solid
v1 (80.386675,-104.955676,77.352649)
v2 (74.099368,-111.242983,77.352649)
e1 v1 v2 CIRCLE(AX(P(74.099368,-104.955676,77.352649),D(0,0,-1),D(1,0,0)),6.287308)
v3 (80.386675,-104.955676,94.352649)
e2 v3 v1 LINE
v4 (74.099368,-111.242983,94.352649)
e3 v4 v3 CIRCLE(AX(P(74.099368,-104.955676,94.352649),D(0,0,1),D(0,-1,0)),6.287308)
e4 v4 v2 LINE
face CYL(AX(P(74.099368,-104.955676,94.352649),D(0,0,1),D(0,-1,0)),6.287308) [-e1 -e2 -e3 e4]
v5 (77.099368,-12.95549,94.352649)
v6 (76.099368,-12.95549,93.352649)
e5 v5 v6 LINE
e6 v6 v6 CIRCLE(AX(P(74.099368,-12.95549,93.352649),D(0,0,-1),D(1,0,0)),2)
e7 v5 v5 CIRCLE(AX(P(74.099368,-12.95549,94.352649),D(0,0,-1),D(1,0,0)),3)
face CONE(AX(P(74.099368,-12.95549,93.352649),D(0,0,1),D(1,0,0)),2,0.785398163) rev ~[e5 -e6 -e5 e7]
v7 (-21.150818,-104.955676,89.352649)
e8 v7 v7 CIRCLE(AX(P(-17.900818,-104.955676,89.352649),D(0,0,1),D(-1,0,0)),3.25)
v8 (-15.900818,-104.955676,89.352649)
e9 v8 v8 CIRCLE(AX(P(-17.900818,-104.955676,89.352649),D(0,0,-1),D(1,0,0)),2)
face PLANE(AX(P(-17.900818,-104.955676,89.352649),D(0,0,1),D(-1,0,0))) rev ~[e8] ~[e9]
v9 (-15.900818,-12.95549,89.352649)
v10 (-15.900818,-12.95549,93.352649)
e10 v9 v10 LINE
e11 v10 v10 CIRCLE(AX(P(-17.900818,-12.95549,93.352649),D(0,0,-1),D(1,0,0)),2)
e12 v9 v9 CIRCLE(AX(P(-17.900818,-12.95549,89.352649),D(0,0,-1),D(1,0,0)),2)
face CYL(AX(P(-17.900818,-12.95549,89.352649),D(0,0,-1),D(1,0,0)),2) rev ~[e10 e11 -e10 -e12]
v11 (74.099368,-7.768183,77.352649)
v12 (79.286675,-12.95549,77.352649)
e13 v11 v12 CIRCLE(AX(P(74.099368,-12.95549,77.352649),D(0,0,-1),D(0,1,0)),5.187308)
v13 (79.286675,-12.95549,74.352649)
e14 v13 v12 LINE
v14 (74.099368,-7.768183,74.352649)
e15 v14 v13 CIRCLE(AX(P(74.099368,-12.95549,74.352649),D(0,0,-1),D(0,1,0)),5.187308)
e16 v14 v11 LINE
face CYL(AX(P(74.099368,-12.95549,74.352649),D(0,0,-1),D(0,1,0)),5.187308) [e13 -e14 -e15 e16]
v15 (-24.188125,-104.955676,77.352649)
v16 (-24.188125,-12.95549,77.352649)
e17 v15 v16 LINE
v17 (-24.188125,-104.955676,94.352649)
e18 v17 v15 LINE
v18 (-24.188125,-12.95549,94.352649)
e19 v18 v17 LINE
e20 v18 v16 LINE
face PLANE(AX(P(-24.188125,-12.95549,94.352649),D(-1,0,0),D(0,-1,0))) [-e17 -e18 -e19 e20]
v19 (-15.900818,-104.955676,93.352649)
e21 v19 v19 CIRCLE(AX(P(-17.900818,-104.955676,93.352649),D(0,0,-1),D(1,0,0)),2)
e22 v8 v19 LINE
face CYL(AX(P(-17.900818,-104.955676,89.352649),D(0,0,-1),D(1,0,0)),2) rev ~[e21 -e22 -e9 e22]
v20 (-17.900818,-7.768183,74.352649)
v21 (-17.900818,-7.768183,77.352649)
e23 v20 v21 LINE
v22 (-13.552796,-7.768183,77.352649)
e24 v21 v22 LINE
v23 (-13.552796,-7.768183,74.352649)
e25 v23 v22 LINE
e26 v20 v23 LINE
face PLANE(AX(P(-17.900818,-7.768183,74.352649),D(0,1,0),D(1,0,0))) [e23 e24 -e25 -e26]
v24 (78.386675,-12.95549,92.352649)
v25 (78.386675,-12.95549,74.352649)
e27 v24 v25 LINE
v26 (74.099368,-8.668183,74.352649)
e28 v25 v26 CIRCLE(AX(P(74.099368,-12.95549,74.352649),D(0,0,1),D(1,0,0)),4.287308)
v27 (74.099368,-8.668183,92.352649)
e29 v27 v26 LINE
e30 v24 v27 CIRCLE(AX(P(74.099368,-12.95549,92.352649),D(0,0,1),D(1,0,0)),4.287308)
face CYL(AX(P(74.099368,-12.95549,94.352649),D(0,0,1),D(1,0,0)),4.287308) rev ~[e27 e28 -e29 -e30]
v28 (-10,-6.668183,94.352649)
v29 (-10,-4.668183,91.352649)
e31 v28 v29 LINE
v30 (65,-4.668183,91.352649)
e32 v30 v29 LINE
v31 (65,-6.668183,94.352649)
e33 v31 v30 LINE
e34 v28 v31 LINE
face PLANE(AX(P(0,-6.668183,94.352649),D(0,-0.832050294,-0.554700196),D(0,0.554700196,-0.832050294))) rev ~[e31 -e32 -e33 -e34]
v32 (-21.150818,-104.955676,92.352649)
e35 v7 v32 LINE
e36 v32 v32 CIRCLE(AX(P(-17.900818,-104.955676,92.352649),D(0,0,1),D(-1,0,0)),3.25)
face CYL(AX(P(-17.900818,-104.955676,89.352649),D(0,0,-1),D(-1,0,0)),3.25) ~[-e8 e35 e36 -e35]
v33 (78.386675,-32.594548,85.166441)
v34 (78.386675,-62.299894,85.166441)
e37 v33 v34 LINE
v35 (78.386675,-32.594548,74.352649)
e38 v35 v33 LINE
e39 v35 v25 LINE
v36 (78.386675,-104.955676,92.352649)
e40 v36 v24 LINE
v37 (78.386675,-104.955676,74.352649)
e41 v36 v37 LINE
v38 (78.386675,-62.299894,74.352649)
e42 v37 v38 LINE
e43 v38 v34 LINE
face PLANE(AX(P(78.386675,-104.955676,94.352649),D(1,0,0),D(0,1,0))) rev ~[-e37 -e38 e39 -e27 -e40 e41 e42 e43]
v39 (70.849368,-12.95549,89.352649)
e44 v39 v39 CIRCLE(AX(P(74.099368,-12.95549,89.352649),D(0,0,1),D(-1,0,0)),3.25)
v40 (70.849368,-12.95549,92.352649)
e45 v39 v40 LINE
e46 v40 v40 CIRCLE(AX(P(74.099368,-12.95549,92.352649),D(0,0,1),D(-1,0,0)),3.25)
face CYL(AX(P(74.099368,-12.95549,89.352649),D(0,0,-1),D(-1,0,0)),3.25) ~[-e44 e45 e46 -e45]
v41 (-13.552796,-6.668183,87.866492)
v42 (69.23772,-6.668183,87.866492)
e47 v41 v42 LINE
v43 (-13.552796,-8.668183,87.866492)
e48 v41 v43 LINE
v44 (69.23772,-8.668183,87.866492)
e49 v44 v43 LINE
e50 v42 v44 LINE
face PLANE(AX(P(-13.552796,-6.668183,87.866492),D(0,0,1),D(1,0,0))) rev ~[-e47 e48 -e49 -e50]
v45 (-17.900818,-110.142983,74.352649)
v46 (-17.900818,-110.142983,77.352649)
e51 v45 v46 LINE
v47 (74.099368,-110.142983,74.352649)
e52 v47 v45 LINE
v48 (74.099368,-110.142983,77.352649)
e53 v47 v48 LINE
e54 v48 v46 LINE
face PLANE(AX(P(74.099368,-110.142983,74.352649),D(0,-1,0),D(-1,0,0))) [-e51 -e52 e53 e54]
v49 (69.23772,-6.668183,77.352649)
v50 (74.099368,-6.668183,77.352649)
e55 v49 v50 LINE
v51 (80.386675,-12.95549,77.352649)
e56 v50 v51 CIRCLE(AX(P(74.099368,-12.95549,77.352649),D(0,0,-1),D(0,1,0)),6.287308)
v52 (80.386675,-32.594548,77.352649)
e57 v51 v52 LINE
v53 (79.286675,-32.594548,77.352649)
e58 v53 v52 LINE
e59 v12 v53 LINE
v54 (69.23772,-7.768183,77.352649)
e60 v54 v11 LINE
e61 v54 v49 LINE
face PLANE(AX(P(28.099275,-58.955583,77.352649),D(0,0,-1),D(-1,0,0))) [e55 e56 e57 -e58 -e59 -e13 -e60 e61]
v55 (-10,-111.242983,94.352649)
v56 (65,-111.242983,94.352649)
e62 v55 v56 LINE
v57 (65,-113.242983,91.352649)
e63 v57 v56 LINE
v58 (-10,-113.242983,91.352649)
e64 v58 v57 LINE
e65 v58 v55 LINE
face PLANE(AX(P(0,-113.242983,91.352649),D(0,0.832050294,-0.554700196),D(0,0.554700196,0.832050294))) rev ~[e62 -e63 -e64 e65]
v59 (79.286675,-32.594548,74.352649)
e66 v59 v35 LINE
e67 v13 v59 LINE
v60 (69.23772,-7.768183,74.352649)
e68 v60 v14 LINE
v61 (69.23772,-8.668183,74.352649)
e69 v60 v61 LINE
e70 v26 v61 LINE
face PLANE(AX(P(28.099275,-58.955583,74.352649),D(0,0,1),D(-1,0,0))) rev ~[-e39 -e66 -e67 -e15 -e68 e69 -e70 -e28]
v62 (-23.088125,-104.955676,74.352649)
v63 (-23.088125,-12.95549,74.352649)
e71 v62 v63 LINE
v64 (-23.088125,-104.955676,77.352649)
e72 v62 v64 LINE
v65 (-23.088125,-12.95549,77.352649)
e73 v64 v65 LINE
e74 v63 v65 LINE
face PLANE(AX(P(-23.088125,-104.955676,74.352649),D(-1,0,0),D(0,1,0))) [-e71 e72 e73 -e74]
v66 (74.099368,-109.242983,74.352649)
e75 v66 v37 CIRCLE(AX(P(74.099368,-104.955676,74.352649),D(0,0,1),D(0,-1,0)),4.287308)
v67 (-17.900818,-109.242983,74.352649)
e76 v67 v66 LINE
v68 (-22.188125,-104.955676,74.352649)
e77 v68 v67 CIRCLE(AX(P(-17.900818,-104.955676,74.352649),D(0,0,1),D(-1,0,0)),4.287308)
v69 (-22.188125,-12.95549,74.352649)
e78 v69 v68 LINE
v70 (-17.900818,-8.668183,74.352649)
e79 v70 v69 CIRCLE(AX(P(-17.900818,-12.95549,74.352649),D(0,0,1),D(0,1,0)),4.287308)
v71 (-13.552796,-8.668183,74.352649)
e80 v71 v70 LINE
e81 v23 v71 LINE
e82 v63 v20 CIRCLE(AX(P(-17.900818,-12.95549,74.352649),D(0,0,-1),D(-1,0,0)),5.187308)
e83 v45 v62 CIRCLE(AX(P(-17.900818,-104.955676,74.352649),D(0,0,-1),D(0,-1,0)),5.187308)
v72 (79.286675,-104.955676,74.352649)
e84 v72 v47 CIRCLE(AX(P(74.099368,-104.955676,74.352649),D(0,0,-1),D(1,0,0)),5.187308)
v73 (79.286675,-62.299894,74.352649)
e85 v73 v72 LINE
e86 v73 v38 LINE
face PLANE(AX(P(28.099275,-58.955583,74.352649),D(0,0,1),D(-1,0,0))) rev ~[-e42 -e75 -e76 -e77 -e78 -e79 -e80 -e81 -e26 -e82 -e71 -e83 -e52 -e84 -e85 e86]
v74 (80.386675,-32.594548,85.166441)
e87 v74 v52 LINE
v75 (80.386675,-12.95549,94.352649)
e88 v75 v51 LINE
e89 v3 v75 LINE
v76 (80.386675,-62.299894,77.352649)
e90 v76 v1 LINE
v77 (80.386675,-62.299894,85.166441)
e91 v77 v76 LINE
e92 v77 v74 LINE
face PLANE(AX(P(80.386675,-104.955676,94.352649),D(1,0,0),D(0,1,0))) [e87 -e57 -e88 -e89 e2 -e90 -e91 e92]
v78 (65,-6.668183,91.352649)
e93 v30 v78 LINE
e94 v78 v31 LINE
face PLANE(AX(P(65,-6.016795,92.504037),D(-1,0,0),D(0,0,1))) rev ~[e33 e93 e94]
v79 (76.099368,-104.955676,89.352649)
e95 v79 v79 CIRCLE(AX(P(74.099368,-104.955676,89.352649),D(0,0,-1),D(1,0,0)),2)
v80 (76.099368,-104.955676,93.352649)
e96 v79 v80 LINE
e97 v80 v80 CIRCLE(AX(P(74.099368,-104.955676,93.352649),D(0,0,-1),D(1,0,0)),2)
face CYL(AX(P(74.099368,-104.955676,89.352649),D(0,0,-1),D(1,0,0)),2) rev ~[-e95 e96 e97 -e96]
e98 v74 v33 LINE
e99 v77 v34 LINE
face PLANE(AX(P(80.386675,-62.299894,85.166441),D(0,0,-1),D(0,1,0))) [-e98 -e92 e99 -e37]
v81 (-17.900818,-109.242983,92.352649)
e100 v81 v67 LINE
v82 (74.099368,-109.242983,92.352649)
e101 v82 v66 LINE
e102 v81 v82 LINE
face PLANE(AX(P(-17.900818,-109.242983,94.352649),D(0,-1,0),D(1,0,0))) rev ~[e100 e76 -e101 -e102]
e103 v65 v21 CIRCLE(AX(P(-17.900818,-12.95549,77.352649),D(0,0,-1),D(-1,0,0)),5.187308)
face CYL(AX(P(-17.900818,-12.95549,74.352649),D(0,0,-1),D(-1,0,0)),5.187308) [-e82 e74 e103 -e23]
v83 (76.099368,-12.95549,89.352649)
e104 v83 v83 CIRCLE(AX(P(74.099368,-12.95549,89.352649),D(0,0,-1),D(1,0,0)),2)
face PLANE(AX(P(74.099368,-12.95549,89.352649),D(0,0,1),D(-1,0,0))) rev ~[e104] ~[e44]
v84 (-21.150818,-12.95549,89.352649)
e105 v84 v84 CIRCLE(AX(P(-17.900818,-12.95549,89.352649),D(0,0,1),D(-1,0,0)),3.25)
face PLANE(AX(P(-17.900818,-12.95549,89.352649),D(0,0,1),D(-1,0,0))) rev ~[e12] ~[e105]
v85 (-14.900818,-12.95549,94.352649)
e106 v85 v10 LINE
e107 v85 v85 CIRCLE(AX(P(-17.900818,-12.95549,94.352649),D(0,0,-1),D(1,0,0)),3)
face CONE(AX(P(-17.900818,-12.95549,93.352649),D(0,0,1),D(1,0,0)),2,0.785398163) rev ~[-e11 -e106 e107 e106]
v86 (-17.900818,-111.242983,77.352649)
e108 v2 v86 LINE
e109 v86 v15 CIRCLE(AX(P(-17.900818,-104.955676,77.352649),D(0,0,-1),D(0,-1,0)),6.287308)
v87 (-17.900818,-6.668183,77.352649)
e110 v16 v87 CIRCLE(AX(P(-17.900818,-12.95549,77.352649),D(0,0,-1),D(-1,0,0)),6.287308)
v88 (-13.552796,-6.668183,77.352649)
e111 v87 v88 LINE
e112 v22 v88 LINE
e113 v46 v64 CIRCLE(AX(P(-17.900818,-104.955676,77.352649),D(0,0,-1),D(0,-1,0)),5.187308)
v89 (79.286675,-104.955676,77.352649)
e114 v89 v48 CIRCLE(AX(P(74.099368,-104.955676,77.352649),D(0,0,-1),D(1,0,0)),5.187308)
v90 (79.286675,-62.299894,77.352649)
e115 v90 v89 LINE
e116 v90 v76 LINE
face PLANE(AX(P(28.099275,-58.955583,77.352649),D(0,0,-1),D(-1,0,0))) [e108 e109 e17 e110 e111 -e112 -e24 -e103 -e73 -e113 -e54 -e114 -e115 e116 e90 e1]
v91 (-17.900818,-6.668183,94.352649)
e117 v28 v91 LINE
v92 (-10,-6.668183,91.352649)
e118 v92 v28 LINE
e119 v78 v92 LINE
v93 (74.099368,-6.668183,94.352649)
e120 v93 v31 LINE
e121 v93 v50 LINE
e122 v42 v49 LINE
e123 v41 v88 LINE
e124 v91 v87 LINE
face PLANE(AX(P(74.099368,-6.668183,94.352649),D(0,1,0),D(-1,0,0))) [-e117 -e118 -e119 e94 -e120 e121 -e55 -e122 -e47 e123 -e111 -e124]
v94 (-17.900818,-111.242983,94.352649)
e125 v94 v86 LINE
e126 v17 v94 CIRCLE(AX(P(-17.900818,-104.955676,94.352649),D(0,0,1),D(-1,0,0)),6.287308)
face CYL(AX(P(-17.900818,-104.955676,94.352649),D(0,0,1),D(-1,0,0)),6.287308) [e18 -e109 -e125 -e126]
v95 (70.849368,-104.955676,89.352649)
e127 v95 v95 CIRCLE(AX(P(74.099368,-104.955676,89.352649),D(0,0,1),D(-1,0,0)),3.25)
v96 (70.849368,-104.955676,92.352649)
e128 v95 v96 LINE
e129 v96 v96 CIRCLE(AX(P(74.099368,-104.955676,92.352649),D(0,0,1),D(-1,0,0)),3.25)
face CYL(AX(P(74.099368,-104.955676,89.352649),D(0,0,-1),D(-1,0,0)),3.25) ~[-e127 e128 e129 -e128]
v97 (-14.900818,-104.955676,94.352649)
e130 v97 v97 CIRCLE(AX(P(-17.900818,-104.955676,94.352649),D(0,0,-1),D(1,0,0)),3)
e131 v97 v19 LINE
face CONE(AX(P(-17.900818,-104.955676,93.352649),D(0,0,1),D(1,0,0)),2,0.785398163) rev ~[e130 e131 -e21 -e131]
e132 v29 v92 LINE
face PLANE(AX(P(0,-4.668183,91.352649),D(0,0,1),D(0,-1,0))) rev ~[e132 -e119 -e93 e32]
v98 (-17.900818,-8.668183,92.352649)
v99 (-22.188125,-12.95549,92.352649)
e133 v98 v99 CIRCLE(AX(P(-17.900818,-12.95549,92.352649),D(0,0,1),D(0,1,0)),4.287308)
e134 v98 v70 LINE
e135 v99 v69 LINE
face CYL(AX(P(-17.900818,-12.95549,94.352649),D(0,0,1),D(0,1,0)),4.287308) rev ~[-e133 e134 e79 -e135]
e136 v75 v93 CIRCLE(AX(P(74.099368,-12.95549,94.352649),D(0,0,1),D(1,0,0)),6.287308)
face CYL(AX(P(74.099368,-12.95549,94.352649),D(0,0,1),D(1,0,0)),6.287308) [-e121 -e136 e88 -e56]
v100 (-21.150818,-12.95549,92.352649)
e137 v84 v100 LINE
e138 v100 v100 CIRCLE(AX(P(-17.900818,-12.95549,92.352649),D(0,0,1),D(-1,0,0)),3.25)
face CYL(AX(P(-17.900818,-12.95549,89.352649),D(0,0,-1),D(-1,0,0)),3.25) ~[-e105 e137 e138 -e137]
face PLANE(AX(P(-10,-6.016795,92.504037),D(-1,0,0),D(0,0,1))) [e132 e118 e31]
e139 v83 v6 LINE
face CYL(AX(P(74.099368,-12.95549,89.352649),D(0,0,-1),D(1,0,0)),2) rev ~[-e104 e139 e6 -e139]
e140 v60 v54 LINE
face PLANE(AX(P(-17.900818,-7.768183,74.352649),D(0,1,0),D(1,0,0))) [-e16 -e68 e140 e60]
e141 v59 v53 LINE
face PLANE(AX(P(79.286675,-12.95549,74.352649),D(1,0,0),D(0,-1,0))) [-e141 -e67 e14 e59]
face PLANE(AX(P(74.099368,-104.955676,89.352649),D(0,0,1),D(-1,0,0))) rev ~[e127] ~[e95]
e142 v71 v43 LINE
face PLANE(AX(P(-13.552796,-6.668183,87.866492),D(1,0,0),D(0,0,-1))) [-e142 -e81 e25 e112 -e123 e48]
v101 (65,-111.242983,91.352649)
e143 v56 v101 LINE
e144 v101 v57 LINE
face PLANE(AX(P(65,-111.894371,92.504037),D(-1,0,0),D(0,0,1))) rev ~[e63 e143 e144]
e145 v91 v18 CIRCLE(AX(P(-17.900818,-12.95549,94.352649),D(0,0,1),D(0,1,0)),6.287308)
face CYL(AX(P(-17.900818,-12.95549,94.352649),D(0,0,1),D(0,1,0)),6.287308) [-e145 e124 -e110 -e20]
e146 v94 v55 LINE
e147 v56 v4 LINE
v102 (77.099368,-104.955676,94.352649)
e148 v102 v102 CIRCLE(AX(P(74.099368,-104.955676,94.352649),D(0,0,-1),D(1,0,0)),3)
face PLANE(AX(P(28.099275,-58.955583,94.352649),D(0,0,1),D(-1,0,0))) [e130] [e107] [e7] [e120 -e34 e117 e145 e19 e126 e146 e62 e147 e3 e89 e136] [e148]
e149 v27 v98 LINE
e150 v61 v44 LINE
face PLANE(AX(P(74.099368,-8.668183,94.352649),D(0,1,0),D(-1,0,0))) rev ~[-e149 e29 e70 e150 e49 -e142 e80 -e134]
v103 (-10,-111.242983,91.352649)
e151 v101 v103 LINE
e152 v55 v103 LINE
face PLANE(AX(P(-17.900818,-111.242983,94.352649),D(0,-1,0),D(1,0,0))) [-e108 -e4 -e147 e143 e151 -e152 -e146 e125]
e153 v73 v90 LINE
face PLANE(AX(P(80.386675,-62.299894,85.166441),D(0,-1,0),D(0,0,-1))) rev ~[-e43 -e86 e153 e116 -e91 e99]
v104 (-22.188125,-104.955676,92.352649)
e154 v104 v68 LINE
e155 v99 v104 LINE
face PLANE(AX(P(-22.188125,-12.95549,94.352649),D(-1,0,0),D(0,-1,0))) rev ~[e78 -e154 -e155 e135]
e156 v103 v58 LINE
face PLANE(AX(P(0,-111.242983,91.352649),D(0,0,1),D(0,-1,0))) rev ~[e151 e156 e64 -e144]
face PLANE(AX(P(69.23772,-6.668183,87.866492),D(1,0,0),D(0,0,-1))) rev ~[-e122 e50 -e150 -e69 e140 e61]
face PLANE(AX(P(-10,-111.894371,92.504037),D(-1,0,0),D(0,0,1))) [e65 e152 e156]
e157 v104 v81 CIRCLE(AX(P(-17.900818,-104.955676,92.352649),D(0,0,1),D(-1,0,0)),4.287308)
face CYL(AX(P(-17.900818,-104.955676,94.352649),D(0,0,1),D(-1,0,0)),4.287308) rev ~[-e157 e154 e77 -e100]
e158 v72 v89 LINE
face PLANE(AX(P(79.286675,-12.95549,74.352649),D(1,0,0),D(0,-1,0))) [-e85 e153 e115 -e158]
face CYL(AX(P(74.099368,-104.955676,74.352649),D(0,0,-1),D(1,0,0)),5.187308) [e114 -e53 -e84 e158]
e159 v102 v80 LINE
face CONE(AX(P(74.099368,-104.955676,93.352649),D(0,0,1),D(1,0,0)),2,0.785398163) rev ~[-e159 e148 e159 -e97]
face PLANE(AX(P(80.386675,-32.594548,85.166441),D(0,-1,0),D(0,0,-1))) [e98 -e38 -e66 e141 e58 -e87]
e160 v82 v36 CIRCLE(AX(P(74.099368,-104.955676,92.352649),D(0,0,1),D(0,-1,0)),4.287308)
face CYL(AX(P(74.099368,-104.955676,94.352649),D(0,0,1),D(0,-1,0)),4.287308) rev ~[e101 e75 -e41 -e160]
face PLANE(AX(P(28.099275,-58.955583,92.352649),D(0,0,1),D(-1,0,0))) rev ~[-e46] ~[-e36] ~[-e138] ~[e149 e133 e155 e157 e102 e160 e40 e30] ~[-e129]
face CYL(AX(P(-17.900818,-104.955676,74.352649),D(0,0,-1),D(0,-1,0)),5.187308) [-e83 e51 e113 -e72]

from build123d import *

# Parameters (mm, degrees)
SKETCH1_R                = 3.25
BOSS_EXTRUDE1_DEPTH      = 3
BOSS_EXTRUDE1_2_DEPTH    = 3
BOSS_EXTRUDE1_3_DEPTH    = 3
BOSS_EXTRUDE1_4_DEPTH    = 3
BOSS_EXTRUDE2_DEPTH      = 2
BOSS_EXTRUDE3_DEPTH      = 20
SKETCH4_R                = 2
CUT_EXTRUDE1_DEPTH       = 5
CUT_EXTRUDE2_REACH       = 106.575
SKETCH6_W                = 82.790515713
SKETCH6_H                = 14.032058418
CUT_EXTRUDE3_REACH       = 106.575
SKETCH7_W                = 17
SKETCH7_H                = 29.705346692
CHAMFER1_SIZE            = 1
CUT_EXTRUDE4_DEPTH       = 3
BOSS_EXTRUDE4_DEPTH      = 65
BOSS_EXTRUDE4_DEPTH_BACK = 10


with BuildPart() as part:
    # Sketch1 → Boss-Extrude1 (new body)
    with BuildSketch(Plane(origin=(0, 0, 89.352648697), x_dir=(-1, 0, 0), z_dir=(0, 0, 1))):
        with Locations((-74.099367844, 104.955675546)):
            Circle(SKETCH1_R)
    extrude(amount=BOSS_EXTRUDE1_DEPTH)



with BuildPart() as body_2:
    # Sketch1 → Boss-Extrude1 2 (new body)
    with BuildSketch(Plane(origin=(0, 0, 89.352648697), x_dir=(-1, 0, 0), z_dir=(0, 0, 1))):
        with Locations((17.900817576, 104.955675546)):
            Circle(SKETCH1_R)
    extrude(amount=BOSS_EXTRUDE1_2_DEPTH)


with BuildPart() as body_3:
    # Sketch1 → Boss-Extrude1 3 (new body)
    with BuildSketch(Plane(origin=(0, 0, 89.352648697), x_dir=(-1, 0, 0), z_dir=(0, 0, 1))):
        with Locations((17.900817576, 12.955490126)):
            Circle(SKETCH1_R)
    extrude(amount=BOSS_EXTRUDE1_3_DEPTH)


with BuildPart() as body_4:
    # Sketch1 → Boss-Extrude1 4 (new body)
    with BuildSketch(Plane(origin=(0, 0, 89.352648697), x_dir=(-1, 0, 0), z_dir=(0, 0, 1))):
        with Locations((-74.099367844, 12.955490126)):
            Circle(SKETCH1_R)
    extrude(amount=BOSS_EXTRUDE1_4_DEPTH)


with BuildPart() as part_1:
    add(part.part)

    add(body_2.part)  # Boss-Extrude2 merges body 2

    add(body_3.part)  # Boss-Extrude2 merges body 3

    add(body_4.part)  # Boss-Extrude2 merges body 4
    # Sketch2 → Boss-Extrude2 (add)
    with BuildSketch(Plane(origin=(0, 0, 92.352648697), x_dir=(-1, 0, 0), z_dir=(0, 0, 1))):
        with BuildLine():
            Line((17.900817576, 109.242983141), (-74.099367844, 109.242983141))
            ThreePointArc((-74.099367844, 109.242983141), (-77.130952117, 107.987259819), (-78.386675439, 104.955675546))
            Line((-78.386675439, 104.955675546), (-78.386675439, 12.955490126))
            ThreePointArc((-78.386675439, 12.955490126), (-77.130952117, 9.923905853), (-74.099367844, 8.668182531))
            Line((-74.099367844, 8.668182531), (17.900817576, 8.668182531))
            ThreePointArc((17.900817576, 8.668182531), (20.93240185, 9.923905853), (22.188125171, 12.955490126))
            Line((22.188125171, 12.955490126), (22.188125171, 104.955675546))
            ThreePointArc((22.188125171, 104.955675546), (20.93240185, 107.987259819), (17.900817576, 109.242983141))
        make_face()
    extrude(amount=BOSS_EXTRUDE2_DEPTH)

    # Sketch3 → Boss-Extrude3 (add)
    with BuildSketch(Plane(origin=(0, 0, 94.352648697), x_dir=(-1, 0, 0), z_dir=(0, 0, 1))):
        with BuildLine():
            Line((17.900817576, 111.242983141), (-74.099367844, 111.242983141))
            ThreePointArc((-74.099367844, 111.242983141), (-78.54516568, 109.401473382), (-80.386675439, 104.955675546))
            Line((-80.386675439, 104.955675546), (-80.386675439, 12.955490126))
            ThreePointArc((-80.386675439, 12.955490126), (-78.54516568, 8.50969229), (-74.099367844, 6.668182531))
            Line((-74.099367844, 6.668182531), (17.900817576, 6.668182531))
            ThreePointArc((17.900817576, 6.668182531), (22.346615412, 8.50969229), (24.188125171, 12.955490126))
            Line((24.188125171, 12.955490126), (24.188125171, 104.955675546))
            ThreePointArc((24.188125171, 104.955675546), (22.346615412, 109.401473382), (17.900817576, 111.242983141))
        make_face()
        with BuildLine():
            Line((17.900817576, 109.242983141), (-74.099367844, 109.242983141))
            ThreePointArc((-74.099367844, 109.242983141), (-77.130952117, 107.987259819), (-78.386675439, 104.955675546))
            Line((-78.386675439, 104.955675546), (-78.386675439, 12.955490126))
            ThreePointArc((-78.386675439, 12.955490126), (-77.130952117, 9.923905853), (-74.099367844, 8.668182531))
            Line((-74.099367844, 8.668182531), (17.900817576, 8.668182531))
            ThreePointArc((17.900817576, 8.668182531), (20.93240185, 9.923905853), (22.188125171, 12.955490126))
            Line((22.188125171, 12.955490126), (22.188125171, 104.955675546))
            ThreePointArc((22.188125171, 104.955675546), (20.93240185, 107.987259819), (17.900817576, 109.242983141))
        make_face(mode=Mode.SUBTRACT)
    extrude(amount=-BOSS_EXTRUDE3_DEPTH)

    # Sketch4 → Cut-Extrude1 (cut)
    with BuildSketch(Plane(origin=(0, 0, 89.352648697), x_dir=(1, 0, 0), z_dir=(0, 0, -1))):
        with Locations((-17.900817576, 104.955675546)):
            Circle(SKETCH4_R)
        with Locations((74.099367844, 104.955675546)):
            Circle(SKETCH4_R)
        with Locations((74.099367844, 12.955490126)):
            Circle(SKETCH4_R)
        with Locations((-17.900817576, 12.955490126)):
            Circle(SKETCH4_R)
    extrude(amount=-CUT_EXTRUDE1_DEPTH, mode=Mode.SUBTRACT)

    # Sketch6 → Cut-Extrude2 (cut, up to next)
    with BuildSketch(Plane(origin=(0, -6.668182531, 0), x_dir=(1, 0, 0), z_dir=(0, 1, 0)), mode=Mode.PRIVATE) as cut_extrude2_sk1:
        with Locations((27.842461798, -80.850462516)):
            Rectangle(SKETCH6_W, SKETCH6_H)
    cut_extrude2_tool1 = extrude(cut_extrude2_sk1.sketch, amount=-CUT_EXTRUDE2_REACH, mode=Mode.PRIVATE) & part_1.part
    add(cut_extrude2_tool1.solids().sort_by_distance((27.842462, -6.668183, 80.850463))[0], mode=Mode.SUBTRACT)

    # Sketch7 → Cut-Extrude3 (cut, up to next)
    with BuildSketch(Plane(origin=(80.386675439, 0, 0), x_dir=(0, 0, -1), z_dir=(1, 0, 0)), mode=Mode.PRIVATE) as cut_extrude3_sk1:
        with Locations((-76.666440925, -47.447220968)):
            Rectangle(SKETCH7_W, SKETCH7_H)
    cut_extrude3_tool1 = extrude(cut_extrude3_sk1.sketch, amount=-CUT_EXTRUDE3_REACH, mode=Mode.PRIVATE) & part_1.part
    add(cut_extrude3_tool1.solids().sort_by_distance((80.386675, -47.447221, 76.666441))[0], mode=Mode.SUBTRACT)

    # Chamfer1
    chamfer1_edges = [part_1.edges().sort_by_distance(p)[0] for p in [
        (-19.900817576, -12.955490126, 94.352648697),
        (72.099367844, -12.955490126, 94.352648697),
        (72.099367844, -104.955675546, 94.352648697),
        (-19.900817576, -104.955675546, 94.352648697),
    ]]
    chamfer(chamfer1_edges, length=CHAMFER1_SIZE)

    # Sketch10 → Cut-Extrude4 (cut)
    with BuildSketch(Plane(origin=(0, 0, 74.352648697), x_dir=(-1, 0, 0), z_dir=(0, 0, -1))):
        with BuildLine():
            Line((-80.386675439, -12.955490126), (-80.386675439, -32.594547622))
            Line((-80.386675439, -32.594547622), (-80.386675439, -62.299894314))
            Line((-80.386675439, -62.299894314), (-80.386675439, -104.955675546))
            ThreePointArc((-80.386675439, -104.955675546), (-78.54516568, -109.401473382), (-74.099367844, -111.242983141))
            Line((-74.099367844, -111.242983141), (17.900817576, -111.242983141))
            ThreePointArc((17.900817576, -111.242983141), (22.346615412, -109.401473382), (24.188125171, -104.955675546))
            Line((24.188125171, -104.955675546), (24.188125171, -12.955490126))
            ThreePointArc((24.188125171, -12.955490126), (22.346615412, -8.50969229), (17.900817576, -6.668182531))
            Line((17.900817576, -6.668182531), (13.552796059, -6.668182531))
            Line((13.552796059, -6.668182531), (-69.237719654, -6.668182531))
            Line((-69.237719654, -6.668182531), (-74.099367844, -6.668182531))
            ThreePointArc((-74.099367844, -6.668182531), (-78.54516568, -8.50969229), (-80.386675439, -12.955490126))
        make_face()
        with BuildLine():
            Line((-79.286675439, -32.594547622), (-79.286675439, -62.299894314))
            Line((-79.286675439, -62.299894314), (-79.286675439, -104.955675546))
            ThreePointArc((-79.286675439, -104.955675546), (-77.76734822, -108.623655922), (-74.099367844, -110.142983141))
            Line((-74.099367844, -110.142983141), (17.900817576, -110.142983141))
            ThreePointArc((17.900817576, -110.142983141), (21.568797953, -108.623655922), (23.088125171, -104.955675546))
            Line((23.088125171, -104.955675546), (23.088125171, -12.955490126))
            ThreePointArc((23.088125171, -12.955490126), (21.568797953, -9.28750975), (17.900817576, -7.768182531))
            Line((17.900817576, -7.768182531), (13.552796059, -7.768182531))
            Line((13.552796059, -7.768182531), (-69.237719654, -7.768182531))
            Line((-69.237719654, -7.768182531), (-74.099367844, -7.768182531))
            ThreePointArc((-74.099367844, -7.768182531), (-77.76734822, -9.28750975), (-79.286675439, -12.955490126))
            Line((-79.286675439, -12.955490126), (-79.286675439, -32.594547622))
        make_face(mode=Mode.SUBTRACT)
    extrude(amount=-CUT_EXTRUDE4_DEPTH, mode=Mode.SUBTRACT)

    # Sketch11 → Boss-Extrude4 (add, two sides)
    with BuildSketch(Plane(origin=(0, 0, 0), x_dir=(0, 0, -1), z_dir=(1, 0, 0))) as boss_extrude4_sk:
        Polygon((-94.352648697, -6.668182531), (-91.352648697, -4.668182531), (-91.352648697, -6.668182531), align=None)
        Polygon((-94.352648697, -111.242983141), (-91.352648697, -111.242983141), (-91.352648697, -113.242983141), align=None)
    extrude(amount=BOSS_EXTRUDE4_DEPTH)
    extrude(boss_extrude4_sk.sketch, amount=-BOSS_EXTRUDE4_DEPTH_BACK)


solid = part_1.part
